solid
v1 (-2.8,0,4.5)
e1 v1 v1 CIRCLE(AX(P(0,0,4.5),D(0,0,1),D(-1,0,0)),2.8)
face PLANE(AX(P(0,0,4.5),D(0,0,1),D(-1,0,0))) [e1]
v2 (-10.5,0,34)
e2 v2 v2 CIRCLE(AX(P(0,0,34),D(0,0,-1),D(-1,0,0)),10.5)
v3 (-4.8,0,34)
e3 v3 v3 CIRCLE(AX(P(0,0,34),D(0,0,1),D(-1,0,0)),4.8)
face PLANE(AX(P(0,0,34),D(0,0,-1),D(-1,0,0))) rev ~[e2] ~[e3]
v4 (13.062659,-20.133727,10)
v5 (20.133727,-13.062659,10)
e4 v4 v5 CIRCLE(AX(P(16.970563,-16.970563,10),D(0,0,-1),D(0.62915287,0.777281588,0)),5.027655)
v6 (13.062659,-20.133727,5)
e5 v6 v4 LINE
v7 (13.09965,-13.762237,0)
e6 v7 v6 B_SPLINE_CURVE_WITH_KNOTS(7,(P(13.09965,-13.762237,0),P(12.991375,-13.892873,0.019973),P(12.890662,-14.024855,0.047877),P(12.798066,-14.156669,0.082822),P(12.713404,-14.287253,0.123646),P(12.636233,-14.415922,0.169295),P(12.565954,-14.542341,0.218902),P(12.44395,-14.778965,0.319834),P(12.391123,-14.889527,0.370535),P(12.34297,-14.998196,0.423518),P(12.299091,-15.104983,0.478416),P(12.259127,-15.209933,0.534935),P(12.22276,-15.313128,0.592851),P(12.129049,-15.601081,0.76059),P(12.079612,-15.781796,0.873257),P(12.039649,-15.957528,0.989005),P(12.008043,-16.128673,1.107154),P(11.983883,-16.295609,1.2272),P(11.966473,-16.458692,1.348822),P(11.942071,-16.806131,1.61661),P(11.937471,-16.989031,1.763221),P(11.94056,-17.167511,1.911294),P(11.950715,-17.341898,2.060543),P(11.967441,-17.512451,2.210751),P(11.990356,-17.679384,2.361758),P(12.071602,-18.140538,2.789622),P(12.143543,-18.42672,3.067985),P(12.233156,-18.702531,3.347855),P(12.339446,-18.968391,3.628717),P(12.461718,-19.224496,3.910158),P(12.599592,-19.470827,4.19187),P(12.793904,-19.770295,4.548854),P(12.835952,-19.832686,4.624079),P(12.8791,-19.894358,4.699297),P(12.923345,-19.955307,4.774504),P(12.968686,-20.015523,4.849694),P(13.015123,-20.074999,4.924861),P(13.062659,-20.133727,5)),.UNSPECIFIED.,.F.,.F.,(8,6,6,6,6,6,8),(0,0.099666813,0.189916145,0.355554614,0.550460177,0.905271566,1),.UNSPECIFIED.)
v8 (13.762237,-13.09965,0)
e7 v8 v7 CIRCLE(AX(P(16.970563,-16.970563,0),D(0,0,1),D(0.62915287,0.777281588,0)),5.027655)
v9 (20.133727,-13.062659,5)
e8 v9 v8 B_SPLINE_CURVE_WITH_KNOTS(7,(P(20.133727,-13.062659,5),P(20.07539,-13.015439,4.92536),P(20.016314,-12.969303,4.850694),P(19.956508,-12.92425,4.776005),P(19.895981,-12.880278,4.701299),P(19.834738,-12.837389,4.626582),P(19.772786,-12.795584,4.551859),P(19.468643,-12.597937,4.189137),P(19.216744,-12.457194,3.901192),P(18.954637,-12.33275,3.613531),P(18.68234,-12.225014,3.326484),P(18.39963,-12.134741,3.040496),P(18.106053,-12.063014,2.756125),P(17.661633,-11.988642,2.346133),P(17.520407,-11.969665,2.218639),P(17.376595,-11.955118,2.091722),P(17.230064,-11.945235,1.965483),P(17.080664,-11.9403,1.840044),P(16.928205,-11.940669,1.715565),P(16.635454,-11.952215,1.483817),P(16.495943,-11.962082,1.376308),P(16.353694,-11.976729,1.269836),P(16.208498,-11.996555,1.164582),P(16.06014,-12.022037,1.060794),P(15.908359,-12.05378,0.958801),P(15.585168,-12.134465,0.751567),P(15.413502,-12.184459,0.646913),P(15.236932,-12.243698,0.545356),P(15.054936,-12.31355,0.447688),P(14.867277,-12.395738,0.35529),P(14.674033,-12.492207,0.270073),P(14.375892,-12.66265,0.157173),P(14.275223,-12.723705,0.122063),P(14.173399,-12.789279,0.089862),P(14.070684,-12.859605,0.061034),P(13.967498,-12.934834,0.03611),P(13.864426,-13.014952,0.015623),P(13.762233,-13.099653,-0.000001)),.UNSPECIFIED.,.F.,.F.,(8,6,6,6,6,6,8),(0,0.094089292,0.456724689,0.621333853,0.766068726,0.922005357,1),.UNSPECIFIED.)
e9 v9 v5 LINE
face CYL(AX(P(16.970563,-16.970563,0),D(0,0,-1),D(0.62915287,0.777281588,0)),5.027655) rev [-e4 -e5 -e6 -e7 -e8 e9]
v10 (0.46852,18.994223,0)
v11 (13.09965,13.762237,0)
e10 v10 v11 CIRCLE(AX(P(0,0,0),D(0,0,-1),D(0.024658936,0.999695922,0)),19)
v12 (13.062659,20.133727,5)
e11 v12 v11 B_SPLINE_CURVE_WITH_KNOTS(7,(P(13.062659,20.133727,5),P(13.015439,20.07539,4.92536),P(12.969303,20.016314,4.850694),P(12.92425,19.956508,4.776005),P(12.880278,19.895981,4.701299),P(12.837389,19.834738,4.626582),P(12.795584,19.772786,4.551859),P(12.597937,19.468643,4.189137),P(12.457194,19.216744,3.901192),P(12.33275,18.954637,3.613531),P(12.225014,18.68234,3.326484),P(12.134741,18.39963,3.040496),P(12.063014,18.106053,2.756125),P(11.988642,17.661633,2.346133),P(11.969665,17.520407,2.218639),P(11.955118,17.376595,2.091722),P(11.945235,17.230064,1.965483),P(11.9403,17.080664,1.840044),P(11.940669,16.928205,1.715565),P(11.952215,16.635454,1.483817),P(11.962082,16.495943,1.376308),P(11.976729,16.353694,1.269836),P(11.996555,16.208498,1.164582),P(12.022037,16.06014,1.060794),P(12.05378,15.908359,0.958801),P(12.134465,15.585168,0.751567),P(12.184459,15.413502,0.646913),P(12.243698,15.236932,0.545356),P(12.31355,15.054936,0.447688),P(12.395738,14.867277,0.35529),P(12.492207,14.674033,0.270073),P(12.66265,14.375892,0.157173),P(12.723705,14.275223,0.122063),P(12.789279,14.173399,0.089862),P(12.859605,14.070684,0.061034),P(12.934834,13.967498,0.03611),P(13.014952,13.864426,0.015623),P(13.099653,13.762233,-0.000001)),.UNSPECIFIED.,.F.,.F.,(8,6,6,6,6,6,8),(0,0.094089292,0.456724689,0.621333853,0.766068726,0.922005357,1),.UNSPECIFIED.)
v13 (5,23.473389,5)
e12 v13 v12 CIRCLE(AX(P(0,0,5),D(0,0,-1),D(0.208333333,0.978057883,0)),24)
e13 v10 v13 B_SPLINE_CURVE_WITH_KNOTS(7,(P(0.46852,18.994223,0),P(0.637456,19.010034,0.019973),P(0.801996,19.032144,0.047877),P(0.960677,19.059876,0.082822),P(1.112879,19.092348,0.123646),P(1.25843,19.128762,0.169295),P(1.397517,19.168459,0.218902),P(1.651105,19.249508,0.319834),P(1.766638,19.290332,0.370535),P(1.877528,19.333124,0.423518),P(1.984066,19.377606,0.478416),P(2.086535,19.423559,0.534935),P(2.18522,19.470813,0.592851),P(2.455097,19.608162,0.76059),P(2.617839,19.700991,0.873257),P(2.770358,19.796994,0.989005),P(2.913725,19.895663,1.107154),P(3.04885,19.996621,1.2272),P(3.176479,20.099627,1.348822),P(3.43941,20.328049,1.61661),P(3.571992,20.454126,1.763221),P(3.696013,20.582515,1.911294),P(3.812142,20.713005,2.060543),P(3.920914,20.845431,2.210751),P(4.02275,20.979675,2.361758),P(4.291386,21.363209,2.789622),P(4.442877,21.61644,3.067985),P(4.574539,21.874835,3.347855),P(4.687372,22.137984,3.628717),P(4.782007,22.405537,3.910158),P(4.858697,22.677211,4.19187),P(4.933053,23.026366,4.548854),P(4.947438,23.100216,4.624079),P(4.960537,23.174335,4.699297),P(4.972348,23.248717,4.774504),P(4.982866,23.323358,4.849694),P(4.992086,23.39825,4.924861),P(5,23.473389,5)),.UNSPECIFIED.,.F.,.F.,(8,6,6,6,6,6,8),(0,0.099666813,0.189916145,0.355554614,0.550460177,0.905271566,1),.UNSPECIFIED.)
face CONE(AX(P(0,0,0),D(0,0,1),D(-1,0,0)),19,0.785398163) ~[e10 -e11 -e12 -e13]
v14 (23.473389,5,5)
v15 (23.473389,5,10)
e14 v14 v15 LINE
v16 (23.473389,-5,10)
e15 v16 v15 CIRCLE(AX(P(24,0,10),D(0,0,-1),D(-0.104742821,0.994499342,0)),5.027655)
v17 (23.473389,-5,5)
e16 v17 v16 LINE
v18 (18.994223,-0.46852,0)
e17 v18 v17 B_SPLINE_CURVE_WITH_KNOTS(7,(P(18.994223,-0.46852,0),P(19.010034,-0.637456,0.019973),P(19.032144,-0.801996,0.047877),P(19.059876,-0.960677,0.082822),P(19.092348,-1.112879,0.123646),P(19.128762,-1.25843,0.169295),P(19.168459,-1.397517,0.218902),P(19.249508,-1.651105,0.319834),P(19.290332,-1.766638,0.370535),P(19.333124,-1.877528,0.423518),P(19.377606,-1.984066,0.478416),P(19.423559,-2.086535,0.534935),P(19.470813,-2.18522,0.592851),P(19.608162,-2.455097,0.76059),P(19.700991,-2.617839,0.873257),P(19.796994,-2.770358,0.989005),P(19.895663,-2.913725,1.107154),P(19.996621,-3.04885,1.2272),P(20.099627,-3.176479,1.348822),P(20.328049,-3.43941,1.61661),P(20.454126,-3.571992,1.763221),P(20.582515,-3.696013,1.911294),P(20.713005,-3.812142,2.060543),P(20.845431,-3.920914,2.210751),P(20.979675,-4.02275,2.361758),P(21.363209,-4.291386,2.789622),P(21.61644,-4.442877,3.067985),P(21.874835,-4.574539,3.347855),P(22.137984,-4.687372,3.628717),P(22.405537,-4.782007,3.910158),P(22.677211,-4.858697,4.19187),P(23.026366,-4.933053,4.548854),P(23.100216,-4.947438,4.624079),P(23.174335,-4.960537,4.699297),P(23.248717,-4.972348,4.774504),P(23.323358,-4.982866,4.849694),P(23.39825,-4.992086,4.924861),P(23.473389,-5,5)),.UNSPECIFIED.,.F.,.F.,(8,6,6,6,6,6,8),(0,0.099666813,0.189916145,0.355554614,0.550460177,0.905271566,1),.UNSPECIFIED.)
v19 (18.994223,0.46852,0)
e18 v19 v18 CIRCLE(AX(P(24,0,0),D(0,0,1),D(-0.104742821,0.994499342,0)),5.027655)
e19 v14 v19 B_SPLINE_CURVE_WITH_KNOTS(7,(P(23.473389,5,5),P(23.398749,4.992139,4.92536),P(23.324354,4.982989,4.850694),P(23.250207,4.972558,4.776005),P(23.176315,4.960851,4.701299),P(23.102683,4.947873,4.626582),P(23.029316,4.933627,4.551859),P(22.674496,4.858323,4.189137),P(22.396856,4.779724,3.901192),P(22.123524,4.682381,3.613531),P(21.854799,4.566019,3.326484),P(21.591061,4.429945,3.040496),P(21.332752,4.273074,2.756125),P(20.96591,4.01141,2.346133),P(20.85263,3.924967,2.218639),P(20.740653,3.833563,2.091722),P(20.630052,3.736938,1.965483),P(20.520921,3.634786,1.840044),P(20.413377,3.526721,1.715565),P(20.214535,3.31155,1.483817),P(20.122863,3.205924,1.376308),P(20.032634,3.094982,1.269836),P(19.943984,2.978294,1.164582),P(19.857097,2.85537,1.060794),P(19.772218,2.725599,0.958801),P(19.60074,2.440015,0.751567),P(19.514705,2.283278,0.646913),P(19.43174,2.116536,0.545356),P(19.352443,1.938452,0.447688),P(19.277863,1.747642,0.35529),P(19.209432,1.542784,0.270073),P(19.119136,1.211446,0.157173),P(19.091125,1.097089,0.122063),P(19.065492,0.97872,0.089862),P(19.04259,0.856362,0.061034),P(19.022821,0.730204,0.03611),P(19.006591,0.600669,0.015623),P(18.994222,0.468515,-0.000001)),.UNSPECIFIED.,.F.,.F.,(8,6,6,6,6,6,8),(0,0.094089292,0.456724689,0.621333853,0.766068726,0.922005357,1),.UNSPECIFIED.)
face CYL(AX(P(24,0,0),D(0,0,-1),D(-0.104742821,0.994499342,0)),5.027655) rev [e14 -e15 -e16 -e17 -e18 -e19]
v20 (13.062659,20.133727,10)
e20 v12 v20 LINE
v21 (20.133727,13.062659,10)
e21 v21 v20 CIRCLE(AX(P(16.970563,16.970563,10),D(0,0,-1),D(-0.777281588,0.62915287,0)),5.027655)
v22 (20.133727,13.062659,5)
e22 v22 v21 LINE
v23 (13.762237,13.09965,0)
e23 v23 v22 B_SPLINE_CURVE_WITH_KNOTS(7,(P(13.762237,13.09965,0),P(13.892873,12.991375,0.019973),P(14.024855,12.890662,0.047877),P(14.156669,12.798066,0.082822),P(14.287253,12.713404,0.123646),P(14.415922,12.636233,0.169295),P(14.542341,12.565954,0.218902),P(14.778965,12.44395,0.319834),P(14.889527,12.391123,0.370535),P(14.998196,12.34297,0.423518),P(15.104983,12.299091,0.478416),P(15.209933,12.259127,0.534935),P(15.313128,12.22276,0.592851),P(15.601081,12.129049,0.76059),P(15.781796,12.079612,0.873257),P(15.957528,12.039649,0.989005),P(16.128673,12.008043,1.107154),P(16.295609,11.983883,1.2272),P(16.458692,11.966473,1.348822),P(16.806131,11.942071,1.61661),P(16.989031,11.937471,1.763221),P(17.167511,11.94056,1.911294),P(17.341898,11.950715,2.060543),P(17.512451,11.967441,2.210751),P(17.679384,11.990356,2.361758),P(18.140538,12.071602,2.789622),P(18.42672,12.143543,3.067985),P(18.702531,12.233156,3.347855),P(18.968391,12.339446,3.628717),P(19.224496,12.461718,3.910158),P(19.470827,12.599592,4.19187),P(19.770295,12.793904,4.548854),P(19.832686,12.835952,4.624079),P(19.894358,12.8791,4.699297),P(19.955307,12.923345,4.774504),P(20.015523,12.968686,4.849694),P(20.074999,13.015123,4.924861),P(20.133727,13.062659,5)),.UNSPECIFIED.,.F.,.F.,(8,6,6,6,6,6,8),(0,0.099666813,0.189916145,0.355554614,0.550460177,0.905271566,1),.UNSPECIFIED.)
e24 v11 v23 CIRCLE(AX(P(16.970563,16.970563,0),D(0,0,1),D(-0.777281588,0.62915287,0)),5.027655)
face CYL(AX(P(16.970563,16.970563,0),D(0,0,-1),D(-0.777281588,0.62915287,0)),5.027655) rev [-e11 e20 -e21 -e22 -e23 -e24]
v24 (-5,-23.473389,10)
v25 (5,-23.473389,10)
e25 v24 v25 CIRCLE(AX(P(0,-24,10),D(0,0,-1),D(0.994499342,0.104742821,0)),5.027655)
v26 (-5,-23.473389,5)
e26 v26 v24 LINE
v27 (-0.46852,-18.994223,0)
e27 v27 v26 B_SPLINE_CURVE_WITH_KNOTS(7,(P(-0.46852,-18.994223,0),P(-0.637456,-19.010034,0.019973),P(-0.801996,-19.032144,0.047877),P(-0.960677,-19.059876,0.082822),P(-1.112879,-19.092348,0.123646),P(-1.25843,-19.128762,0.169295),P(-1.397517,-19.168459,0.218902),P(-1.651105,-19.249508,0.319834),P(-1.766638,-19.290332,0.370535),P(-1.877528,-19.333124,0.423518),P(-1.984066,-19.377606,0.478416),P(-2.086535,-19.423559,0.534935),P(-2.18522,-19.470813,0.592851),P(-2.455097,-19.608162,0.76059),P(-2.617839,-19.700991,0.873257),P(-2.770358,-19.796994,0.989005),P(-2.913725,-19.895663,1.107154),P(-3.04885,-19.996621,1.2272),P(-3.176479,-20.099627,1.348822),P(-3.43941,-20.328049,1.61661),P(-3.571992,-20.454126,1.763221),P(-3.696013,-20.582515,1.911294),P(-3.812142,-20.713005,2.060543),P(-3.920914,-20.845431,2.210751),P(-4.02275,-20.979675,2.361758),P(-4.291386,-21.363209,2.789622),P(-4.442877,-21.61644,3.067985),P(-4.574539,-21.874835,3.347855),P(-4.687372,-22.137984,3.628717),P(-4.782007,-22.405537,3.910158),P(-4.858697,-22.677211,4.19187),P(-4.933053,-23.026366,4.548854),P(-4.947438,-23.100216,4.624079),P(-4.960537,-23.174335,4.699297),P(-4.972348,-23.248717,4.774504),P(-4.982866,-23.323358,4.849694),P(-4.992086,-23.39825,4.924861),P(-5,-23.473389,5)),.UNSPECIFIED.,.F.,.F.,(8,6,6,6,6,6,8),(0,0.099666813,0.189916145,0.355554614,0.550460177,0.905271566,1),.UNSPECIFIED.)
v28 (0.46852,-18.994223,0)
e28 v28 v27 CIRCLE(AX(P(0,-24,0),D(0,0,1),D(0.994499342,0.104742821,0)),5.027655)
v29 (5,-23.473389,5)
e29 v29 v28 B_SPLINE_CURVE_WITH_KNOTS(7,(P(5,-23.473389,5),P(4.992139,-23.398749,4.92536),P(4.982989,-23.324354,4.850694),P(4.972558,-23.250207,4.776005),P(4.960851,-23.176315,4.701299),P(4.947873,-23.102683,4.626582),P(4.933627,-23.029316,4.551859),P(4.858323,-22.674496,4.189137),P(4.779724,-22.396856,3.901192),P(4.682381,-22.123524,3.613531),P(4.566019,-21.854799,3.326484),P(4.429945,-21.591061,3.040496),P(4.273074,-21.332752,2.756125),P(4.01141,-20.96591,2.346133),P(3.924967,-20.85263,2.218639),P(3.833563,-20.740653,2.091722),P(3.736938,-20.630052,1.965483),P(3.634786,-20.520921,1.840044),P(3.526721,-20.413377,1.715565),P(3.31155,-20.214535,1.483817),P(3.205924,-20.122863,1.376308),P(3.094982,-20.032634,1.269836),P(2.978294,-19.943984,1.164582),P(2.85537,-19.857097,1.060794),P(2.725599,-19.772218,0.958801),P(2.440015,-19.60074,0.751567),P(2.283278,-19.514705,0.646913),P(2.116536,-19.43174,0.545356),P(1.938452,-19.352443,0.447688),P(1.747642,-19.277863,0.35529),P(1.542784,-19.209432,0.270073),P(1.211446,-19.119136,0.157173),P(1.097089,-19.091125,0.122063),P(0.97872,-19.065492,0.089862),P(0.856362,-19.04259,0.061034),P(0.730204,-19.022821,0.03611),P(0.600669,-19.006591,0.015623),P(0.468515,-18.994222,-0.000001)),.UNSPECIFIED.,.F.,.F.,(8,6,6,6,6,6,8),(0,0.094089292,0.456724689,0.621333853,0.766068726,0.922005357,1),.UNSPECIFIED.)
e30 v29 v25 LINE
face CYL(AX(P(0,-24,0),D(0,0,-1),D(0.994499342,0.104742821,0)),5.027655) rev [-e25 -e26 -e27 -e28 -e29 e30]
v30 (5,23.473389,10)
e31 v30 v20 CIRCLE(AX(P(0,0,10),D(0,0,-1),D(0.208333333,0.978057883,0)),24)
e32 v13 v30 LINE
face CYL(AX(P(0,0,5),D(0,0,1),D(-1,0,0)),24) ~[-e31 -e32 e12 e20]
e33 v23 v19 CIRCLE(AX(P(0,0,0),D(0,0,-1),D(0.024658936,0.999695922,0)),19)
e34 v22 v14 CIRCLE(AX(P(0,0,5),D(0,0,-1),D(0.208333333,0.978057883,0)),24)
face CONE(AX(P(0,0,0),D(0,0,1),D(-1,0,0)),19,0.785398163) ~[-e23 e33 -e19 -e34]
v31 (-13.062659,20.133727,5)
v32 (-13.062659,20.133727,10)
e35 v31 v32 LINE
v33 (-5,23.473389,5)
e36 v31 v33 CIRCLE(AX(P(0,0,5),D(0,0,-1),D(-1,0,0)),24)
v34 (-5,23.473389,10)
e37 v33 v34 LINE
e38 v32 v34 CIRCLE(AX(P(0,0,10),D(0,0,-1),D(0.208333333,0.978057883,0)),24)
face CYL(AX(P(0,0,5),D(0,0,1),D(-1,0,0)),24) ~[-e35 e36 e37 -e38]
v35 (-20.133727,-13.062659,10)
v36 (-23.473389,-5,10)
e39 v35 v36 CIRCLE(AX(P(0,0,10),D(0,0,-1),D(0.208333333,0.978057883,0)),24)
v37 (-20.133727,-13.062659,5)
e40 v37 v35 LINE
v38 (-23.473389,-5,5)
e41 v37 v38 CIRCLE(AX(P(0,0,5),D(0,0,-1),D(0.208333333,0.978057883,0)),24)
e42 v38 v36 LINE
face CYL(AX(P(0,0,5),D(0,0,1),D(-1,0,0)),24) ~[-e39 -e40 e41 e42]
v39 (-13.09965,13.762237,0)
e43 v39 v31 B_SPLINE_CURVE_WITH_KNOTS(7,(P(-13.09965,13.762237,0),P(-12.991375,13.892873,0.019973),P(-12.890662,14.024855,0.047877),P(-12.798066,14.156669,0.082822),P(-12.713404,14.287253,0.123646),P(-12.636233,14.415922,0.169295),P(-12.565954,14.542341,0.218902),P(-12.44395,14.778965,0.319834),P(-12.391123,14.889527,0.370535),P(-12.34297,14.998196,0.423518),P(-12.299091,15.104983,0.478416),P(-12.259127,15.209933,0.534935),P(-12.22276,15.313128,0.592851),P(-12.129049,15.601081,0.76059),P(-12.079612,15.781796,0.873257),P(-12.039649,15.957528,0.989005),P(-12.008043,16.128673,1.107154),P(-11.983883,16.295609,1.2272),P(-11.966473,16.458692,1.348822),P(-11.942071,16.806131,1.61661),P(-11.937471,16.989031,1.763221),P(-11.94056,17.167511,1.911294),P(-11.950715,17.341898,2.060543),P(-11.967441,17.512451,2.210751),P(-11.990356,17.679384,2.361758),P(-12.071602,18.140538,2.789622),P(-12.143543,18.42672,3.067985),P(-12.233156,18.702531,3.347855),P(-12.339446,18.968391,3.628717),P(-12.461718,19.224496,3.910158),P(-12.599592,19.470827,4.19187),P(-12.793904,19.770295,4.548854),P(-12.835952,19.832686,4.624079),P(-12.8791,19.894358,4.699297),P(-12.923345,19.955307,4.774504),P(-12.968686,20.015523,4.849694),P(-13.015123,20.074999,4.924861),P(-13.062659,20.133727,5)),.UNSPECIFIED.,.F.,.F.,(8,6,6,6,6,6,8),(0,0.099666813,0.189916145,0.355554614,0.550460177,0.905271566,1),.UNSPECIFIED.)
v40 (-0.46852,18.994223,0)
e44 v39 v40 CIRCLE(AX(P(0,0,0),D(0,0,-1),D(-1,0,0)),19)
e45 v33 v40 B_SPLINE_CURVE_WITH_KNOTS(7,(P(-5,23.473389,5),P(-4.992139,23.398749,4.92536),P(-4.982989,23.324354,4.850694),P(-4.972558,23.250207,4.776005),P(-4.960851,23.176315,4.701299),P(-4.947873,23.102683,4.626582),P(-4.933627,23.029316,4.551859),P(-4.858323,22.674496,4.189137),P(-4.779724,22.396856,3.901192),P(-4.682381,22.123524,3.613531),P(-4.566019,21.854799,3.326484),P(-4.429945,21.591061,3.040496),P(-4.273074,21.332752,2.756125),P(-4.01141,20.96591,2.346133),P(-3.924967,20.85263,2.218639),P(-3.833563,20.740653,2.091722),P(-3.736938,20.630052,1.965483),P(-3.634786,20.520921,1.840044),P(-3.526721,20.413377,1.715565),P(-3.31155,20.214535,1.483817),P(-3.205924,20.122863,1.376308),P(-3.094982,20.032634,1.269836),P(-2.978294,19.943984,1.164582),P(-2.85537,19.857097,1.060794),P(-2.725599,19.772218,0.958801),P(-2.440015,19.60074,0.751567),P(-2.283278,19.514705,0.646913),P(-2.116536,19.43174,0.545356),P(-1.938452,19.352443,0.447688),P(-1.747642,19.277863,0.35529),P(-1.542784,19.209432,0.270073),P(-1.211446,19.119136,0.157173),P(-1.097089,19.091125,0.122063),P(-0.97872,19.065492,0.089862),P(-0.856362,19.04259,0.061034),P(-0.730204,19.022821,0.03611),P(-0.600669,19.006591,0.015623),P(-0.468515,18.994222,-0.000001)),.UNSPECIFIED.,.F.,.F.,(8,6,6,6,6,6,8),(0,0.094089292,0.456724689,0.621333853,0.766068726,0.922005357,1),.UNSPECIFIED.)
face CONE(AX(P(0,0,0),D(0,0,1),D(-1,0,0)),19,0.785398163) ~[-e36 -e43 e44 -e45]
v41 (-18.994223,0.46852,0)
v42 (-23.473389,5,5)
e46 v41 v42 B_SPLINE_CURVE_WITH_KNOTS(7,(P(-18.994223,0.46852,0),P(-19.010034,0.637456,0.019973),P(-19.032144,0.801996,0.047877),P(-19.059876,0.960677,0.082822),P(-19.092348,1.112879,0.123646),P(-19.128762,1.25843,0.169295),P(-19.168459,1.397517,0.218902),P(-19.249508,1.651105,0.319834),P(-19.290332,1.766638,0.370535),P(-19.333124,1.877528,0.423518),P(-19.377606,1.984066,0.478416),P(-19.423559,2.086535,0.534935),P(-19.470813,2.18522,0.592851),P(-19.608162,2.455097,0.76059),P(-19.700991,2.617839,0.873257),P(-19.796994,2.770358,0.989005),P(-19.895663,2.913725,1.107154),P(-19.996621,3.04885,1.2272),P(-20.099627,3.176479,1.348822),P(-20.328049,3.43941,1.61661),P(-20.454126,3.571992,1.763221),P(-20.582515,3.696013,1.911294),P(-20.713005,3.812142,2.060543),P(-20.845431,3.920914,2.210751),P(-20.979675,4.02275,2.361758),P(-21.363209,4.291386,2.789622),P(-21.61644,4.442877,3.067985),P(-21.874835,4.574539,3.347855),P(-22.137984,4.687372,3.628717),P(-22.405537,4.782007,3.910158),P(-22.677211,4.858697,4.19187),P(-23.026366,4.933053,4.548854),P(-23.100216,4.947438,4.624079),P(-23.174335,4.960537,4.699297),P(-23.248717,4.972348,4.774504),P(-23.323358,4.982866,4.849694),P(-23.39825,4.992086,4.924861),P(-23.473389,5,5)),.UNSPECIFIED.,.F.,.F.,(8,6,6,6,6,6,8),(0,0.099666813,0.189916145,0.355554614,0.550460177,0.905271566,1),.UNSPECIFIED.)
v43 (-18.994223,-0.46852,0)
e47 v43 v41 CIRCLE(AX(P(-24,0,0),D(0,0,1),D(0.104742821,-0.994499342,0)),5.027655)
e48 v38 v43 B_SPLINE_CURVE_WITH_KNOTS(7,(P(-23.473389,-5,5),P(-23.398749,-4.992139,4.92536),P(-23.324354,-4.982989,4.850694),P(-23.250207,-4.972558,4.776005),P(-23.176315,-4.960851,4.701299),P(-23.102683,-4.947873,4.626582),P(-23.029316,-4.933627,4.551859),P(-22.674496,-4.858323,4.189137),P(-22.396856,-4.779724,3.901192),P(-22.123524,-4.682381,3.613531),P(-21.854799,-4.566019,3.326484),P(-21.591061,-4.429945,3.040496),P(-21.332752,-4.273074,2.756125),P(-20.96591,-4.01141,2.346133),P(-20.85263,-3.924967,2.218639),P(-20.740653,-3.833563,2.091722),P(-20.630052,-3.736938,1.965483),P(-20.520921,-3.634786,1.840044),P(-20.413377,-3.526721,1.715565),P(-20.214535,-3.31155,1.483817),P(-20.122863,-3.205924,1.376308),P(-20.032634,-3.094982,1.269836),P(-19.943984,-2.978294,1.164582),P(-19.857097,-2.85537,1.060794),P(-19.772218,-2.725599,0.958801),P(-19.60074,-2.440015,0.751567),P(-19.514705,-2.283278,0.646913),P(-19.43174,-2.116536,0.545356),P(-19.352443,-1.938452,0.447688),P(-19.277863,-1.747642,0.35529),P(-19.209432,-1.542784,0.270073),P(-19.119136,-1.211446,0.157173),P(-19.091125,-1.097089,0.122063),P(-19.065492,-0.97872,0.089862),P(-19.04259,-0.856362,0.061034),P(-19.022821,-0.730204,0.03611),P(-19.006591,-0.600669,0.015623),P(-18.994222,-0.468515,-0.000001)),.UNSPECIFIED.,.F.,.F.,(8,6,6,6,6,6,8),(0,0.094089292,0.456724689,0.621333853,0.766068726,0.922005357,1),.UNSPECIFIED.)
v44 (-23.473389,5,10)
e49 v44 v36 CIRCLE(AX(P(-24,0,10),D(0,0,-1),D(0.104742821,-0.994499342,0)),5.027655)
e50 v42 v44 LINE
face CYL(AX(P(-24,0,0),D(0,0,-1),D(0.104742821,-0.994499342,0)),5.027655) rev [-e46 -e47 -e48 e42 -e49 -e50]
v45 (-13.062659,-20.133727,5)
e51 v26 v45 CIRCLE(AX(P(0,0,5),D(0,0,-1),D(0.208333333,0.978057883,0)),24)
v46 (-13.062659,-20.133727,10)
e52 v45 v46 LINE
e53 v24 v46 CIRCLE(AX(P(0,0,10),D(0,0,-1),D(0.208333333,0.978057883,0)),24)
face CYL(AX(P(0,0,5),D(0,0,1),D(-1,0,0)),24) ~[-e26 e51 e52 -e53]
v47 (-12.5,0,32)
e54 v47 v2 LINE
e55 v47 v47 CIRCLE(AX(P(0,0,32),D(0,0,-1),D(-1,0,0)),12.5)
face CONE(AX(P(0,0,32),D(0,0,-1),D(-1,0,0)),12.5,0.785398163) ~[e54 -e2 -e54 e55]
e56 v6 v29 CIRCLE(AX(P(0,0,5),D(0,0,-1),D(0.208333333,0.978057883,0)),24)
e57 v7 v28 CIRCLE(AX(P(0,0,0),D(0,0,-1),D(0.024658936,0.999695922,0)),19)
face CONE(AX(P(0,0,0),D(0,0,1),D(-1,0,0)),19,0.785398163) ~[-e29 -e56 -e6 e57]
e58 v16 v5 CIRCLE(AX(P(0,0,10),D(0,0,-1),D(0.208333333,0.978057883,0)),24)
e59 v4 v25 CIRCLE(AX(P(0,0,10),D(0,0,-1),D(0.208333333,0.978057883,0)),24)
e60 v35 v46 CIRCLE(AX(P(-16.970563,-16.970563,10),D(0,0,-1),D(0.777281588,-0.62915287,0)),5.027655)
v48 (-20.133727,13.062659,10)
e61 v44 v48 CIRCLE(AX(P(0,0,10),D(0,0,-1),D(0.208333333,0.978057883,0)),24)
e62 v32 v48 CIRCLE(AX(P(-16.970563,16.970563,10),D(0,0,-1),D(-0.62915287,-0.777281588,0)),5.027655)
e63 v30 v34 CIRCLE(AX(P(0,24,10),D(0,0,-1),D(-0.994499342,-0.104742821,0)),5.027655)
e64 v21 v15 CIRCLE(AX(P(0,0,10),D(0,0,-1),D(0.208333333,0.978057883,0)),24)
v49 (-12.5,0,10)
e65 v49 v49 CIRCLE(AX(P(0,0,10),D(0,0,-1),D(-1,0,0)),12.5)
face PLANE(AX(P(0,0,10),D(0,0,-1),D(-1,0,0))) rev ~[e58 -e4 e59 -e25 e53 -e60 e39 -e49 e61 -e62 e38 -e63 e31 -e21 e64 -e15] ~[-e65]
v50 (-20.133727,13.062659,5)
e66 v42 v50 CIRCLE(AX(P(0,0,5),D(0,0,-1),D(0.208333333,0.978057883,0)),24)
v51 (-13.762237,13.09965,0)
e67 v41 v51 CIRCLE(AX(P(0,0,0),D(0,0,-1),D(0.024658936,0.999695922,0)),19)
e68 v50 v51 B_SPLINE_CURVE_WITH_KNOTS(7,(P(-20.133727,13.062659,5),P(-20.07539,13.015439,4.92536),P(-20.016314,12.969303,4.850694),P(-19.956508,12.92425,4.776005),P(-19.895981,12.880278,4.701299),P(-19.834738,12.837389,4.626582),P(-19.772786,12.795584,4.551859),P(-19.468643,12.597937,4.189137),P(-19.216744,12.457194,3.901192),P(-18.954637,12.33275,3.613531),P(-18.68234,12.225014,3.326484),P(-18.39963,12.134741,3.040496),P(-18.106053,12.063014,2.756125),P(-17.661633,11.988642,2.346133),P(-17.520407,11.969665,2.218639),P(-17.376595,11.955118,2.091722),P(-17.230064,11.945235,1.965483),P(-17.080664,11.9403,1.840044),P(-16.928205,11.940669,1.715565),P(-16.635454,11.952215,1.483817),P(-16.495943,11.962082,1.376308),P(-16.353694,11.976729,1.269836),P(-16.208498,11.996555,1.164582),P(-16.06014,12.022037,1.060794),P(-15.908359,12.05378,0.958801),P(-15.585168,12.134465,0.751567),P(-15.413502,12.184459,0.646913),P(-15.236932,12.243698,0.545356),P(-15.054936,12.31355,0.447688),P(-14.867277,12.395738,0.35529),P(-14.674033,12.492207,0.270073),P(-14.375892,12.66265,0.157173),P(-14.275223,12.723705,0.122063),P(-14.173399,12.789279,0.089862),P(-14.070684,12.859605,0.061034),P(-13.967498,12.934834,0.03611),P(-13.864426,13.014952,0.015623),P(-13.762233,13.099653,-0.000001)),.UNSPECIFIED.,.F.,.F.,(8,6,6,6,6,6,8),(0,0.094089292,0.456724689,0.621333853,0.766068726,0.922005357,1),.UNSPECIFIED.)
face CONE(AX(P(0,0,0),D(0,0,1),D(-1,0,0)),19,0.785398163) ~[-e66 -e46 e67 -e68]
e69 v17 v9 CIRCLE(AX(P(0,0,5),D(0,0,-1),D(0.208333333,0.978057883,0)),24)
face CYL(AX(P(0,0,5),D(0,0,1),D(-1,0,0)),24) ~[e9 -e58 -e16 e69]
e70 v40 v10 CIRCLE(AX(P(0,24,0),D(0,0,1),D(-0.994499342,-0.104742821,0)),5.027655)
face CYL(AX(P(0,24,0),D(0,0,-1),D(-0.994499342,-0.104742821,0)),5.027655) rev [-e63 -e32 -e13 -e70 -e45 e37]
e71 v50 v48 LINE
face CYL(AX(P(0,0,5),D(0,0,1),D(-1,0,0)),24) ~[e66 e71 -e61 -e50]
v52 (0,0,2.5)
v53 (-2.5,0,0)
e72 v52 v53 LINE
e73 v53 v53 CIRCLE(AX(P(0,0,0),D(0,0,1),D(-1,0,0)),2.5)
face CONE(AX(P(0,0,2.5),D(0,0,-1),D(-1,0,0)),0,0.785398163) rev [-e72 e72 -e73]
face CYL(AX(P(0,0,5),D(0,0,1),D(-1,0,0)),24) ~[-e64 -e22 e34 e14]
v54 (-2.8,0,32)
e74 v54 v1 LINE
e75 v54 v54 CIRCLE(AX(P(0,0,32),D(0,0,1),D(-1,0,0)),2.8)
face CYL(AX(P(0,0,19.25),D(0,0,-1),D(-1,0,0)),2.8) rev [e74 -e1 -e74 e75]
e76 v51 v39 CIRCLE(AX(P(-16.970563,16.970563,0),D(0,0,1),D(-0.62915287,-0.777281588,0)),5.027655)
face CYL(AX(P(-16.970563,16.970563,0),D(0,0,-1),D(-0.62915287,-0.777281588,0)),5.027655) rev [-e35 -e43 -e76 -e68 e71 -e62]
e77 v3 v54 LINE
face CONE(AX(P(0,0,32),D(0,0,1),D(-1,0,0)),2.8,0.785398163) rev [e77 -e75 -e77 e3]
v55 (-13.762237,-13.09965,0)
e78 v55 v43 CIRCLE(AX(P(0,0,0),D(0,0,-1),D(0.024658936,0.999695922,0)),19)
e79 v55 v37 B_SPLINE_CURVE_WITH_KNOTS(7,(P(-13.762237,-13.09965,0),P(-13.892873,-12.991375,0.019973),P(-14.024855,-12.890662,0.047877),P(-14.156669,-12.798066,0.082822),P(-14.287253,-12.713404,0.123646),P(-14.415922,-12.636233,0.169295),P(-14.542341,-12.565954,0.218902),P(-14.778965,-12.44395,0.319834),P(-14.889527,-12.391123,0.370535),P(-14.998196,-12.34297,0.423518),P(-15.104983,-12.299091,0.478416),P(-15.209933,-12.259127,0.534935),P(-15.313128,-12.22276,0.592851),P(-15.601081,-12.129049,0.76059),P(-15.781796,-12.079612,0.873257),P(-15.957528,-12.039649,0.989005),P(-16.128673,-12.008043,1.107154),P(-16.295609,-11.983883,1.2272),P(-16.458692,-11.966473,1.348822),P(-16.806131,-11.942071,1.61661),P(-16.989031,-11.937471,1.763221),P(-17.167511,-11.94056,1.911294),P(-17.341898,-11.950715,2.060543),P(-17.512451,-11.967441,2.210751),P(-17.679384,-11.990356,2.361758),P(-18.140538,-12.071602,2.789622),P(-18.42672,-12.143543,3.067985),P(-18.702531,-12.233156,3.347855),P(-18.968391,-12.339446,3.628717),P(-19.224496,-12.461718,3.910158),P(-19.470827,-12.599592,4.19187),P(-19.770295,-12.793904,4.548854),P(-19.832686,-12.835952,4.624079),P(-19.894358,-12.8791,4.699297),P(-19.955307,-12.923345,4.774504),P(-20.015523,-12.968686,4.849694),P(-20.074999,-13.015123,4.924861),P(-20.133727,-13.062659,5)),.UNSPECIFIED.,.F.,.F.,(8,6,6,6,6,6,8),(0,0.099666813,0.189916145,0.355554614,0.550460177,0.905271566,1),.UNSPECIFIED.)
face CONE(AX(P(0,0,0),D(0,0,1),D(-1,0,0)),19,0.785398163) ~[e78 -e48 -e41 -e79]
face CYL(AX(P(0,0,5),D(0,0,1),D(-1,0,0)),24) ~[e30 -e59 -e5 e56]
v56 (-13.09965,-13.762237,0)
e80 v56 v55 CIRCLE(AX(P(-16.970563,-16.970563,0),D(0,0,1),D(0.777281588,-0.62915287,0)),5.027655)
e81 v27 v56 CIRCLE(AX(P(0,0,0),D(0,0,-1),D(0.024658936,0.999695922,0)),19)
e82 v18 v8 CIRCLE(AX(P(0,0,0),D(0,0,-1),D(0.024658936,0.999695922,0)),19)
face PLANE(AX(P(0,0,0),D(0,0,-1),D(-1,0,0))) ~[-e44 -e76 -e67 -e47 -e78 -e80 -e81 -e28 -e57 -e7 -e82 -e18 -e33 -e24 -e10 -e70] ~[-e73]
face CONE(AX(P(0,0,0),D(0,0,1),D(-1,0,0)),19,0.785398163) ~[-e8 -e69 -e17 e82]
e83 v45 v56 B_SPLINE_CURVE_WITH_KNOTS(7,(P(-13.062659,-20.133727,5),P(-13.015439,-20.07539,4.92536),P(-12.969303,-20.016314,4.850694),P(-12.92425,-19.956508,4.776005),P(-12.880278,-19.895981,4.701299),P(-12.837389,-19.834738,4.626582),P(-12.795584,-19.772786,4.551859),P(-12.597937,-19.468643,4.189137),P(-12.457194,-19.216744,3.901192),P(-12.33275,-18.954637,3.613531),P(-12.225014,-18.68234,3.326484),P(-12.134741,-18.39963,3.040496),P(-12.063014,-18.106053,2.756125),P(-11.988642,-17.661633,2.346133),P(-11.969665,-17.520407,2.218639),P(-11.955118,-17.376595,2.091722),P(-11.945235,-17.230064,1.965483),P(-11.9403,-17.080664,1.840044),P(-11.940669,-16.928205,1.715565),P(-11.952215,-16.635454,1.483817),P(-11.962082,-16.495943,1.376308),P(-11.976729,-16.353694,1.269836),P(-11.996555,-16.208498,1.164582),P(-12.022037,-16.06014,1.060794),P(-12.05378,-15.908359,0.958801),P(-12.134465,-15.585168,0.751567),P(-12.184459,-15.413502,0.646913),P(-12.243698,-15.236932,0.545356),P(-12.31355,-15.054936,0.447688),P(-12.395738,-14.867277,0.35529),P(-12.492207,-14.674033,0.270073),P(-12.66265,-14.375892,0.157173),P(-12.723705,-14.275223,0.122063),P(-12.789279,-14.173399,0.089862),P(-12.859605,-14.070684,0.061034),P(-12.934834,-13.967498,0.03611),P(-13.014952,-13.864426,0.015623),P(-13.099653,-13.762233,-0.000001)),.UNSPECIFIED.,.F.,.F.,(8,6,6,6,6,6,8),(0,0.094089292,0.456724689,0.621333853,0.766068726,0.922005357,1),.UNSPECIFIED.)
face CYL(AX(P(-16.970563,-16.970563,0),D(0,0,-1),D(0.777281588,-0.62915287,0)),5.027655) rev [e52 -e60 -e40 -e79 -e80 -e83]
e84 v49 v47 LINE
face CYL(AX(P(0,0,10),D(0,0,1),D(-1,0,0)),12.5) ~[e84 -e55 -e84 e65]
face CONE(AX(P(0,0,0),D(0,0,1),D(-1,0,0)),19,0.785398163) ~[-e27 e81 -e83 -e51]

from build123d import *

# Parameters (mm, degrees)
SCHNITT_LINEAR_AUSTRAGEN1_DEPTH = 49.041648598
KREISMUSTER1_COUNT              = 8
SKIZZE3_W                       = 2.8
SKIZZE3_H                       = 29.5
FASE1_SIZE                      = 2


with BuildPart() as part:
    # Skizze1 → Rotation1 (revolve)
    with BuildSketch(Plane(origin=(0, 0, 0), x_dir=(1, 0, 0), z_dir=(0, 1, 0))):
        Polygon((0, 0), (-19, 0), (-24, -5), (-24, -10), (-12.5, -10), (-12.5, -34), (0, -34), align=None)
    revolve(axis=Axis((0, 0, 34), (0, 0, -1)))

    # Skizze2 → Schnitt-Linear austragen1 (cut, through all)
    with BuildSketch(Plane.XY):
        with BuildLine():
            ThreePointArc((-5, 23.473389189), (0, 18.972344588), (5, 23.473389189))
            ThreePointArc((5, 23.473389189), (0, 24), (-5, 23.473389189))
        make_face()
    schnitt_linear_austragen1 = extrude(amount=SCHNITT_LINEAR_AUSTRAGEN1_DEPTH, mode=Mode.SUBTRACT)

    # Kreismuster1: Schnitt-Linear austragen1 ×8 about axis
    kreismuster1_axis = Axis((0, 0, -88.99), (0, 0, 1))
    for i in range(1, KREISMUSTER1_COUNT):
        add(schnitt_linear_austragen1.rotate(kreismuster1_axis, i * 360 / KREISMUSTER1_COUNT), mode=Mode.SUBTRACT)

    # Skizze3 → Schnitt-Rotation1 (revolve, cut)
    with BuildSketch(Plane(origin=(0, 0, 0), x_dir=(1, 0, 0), z_dir=(0, 1, 0))):
        Polygon((0, 0), (0, -2.5), (-2.5, 0), align=None)
        with Locations((-1.4, -19.25)):
            Rectangle(SKIZZE3_W, SKIZZE3_H)
    revolve(axis=Axis((0, 0, 0), (0, 0, 1)), mode=Mode.SUBTRACT)

    # Fase1
    fase1_edges = [part.edges().sort_by_distance(p)[0] for p in [
        (12.5, 0, 34),
        (2.8, 0, 34),
    ]]
    chamfer(fase1_edges, length=FASE1_SIZE)


solid = part.part
